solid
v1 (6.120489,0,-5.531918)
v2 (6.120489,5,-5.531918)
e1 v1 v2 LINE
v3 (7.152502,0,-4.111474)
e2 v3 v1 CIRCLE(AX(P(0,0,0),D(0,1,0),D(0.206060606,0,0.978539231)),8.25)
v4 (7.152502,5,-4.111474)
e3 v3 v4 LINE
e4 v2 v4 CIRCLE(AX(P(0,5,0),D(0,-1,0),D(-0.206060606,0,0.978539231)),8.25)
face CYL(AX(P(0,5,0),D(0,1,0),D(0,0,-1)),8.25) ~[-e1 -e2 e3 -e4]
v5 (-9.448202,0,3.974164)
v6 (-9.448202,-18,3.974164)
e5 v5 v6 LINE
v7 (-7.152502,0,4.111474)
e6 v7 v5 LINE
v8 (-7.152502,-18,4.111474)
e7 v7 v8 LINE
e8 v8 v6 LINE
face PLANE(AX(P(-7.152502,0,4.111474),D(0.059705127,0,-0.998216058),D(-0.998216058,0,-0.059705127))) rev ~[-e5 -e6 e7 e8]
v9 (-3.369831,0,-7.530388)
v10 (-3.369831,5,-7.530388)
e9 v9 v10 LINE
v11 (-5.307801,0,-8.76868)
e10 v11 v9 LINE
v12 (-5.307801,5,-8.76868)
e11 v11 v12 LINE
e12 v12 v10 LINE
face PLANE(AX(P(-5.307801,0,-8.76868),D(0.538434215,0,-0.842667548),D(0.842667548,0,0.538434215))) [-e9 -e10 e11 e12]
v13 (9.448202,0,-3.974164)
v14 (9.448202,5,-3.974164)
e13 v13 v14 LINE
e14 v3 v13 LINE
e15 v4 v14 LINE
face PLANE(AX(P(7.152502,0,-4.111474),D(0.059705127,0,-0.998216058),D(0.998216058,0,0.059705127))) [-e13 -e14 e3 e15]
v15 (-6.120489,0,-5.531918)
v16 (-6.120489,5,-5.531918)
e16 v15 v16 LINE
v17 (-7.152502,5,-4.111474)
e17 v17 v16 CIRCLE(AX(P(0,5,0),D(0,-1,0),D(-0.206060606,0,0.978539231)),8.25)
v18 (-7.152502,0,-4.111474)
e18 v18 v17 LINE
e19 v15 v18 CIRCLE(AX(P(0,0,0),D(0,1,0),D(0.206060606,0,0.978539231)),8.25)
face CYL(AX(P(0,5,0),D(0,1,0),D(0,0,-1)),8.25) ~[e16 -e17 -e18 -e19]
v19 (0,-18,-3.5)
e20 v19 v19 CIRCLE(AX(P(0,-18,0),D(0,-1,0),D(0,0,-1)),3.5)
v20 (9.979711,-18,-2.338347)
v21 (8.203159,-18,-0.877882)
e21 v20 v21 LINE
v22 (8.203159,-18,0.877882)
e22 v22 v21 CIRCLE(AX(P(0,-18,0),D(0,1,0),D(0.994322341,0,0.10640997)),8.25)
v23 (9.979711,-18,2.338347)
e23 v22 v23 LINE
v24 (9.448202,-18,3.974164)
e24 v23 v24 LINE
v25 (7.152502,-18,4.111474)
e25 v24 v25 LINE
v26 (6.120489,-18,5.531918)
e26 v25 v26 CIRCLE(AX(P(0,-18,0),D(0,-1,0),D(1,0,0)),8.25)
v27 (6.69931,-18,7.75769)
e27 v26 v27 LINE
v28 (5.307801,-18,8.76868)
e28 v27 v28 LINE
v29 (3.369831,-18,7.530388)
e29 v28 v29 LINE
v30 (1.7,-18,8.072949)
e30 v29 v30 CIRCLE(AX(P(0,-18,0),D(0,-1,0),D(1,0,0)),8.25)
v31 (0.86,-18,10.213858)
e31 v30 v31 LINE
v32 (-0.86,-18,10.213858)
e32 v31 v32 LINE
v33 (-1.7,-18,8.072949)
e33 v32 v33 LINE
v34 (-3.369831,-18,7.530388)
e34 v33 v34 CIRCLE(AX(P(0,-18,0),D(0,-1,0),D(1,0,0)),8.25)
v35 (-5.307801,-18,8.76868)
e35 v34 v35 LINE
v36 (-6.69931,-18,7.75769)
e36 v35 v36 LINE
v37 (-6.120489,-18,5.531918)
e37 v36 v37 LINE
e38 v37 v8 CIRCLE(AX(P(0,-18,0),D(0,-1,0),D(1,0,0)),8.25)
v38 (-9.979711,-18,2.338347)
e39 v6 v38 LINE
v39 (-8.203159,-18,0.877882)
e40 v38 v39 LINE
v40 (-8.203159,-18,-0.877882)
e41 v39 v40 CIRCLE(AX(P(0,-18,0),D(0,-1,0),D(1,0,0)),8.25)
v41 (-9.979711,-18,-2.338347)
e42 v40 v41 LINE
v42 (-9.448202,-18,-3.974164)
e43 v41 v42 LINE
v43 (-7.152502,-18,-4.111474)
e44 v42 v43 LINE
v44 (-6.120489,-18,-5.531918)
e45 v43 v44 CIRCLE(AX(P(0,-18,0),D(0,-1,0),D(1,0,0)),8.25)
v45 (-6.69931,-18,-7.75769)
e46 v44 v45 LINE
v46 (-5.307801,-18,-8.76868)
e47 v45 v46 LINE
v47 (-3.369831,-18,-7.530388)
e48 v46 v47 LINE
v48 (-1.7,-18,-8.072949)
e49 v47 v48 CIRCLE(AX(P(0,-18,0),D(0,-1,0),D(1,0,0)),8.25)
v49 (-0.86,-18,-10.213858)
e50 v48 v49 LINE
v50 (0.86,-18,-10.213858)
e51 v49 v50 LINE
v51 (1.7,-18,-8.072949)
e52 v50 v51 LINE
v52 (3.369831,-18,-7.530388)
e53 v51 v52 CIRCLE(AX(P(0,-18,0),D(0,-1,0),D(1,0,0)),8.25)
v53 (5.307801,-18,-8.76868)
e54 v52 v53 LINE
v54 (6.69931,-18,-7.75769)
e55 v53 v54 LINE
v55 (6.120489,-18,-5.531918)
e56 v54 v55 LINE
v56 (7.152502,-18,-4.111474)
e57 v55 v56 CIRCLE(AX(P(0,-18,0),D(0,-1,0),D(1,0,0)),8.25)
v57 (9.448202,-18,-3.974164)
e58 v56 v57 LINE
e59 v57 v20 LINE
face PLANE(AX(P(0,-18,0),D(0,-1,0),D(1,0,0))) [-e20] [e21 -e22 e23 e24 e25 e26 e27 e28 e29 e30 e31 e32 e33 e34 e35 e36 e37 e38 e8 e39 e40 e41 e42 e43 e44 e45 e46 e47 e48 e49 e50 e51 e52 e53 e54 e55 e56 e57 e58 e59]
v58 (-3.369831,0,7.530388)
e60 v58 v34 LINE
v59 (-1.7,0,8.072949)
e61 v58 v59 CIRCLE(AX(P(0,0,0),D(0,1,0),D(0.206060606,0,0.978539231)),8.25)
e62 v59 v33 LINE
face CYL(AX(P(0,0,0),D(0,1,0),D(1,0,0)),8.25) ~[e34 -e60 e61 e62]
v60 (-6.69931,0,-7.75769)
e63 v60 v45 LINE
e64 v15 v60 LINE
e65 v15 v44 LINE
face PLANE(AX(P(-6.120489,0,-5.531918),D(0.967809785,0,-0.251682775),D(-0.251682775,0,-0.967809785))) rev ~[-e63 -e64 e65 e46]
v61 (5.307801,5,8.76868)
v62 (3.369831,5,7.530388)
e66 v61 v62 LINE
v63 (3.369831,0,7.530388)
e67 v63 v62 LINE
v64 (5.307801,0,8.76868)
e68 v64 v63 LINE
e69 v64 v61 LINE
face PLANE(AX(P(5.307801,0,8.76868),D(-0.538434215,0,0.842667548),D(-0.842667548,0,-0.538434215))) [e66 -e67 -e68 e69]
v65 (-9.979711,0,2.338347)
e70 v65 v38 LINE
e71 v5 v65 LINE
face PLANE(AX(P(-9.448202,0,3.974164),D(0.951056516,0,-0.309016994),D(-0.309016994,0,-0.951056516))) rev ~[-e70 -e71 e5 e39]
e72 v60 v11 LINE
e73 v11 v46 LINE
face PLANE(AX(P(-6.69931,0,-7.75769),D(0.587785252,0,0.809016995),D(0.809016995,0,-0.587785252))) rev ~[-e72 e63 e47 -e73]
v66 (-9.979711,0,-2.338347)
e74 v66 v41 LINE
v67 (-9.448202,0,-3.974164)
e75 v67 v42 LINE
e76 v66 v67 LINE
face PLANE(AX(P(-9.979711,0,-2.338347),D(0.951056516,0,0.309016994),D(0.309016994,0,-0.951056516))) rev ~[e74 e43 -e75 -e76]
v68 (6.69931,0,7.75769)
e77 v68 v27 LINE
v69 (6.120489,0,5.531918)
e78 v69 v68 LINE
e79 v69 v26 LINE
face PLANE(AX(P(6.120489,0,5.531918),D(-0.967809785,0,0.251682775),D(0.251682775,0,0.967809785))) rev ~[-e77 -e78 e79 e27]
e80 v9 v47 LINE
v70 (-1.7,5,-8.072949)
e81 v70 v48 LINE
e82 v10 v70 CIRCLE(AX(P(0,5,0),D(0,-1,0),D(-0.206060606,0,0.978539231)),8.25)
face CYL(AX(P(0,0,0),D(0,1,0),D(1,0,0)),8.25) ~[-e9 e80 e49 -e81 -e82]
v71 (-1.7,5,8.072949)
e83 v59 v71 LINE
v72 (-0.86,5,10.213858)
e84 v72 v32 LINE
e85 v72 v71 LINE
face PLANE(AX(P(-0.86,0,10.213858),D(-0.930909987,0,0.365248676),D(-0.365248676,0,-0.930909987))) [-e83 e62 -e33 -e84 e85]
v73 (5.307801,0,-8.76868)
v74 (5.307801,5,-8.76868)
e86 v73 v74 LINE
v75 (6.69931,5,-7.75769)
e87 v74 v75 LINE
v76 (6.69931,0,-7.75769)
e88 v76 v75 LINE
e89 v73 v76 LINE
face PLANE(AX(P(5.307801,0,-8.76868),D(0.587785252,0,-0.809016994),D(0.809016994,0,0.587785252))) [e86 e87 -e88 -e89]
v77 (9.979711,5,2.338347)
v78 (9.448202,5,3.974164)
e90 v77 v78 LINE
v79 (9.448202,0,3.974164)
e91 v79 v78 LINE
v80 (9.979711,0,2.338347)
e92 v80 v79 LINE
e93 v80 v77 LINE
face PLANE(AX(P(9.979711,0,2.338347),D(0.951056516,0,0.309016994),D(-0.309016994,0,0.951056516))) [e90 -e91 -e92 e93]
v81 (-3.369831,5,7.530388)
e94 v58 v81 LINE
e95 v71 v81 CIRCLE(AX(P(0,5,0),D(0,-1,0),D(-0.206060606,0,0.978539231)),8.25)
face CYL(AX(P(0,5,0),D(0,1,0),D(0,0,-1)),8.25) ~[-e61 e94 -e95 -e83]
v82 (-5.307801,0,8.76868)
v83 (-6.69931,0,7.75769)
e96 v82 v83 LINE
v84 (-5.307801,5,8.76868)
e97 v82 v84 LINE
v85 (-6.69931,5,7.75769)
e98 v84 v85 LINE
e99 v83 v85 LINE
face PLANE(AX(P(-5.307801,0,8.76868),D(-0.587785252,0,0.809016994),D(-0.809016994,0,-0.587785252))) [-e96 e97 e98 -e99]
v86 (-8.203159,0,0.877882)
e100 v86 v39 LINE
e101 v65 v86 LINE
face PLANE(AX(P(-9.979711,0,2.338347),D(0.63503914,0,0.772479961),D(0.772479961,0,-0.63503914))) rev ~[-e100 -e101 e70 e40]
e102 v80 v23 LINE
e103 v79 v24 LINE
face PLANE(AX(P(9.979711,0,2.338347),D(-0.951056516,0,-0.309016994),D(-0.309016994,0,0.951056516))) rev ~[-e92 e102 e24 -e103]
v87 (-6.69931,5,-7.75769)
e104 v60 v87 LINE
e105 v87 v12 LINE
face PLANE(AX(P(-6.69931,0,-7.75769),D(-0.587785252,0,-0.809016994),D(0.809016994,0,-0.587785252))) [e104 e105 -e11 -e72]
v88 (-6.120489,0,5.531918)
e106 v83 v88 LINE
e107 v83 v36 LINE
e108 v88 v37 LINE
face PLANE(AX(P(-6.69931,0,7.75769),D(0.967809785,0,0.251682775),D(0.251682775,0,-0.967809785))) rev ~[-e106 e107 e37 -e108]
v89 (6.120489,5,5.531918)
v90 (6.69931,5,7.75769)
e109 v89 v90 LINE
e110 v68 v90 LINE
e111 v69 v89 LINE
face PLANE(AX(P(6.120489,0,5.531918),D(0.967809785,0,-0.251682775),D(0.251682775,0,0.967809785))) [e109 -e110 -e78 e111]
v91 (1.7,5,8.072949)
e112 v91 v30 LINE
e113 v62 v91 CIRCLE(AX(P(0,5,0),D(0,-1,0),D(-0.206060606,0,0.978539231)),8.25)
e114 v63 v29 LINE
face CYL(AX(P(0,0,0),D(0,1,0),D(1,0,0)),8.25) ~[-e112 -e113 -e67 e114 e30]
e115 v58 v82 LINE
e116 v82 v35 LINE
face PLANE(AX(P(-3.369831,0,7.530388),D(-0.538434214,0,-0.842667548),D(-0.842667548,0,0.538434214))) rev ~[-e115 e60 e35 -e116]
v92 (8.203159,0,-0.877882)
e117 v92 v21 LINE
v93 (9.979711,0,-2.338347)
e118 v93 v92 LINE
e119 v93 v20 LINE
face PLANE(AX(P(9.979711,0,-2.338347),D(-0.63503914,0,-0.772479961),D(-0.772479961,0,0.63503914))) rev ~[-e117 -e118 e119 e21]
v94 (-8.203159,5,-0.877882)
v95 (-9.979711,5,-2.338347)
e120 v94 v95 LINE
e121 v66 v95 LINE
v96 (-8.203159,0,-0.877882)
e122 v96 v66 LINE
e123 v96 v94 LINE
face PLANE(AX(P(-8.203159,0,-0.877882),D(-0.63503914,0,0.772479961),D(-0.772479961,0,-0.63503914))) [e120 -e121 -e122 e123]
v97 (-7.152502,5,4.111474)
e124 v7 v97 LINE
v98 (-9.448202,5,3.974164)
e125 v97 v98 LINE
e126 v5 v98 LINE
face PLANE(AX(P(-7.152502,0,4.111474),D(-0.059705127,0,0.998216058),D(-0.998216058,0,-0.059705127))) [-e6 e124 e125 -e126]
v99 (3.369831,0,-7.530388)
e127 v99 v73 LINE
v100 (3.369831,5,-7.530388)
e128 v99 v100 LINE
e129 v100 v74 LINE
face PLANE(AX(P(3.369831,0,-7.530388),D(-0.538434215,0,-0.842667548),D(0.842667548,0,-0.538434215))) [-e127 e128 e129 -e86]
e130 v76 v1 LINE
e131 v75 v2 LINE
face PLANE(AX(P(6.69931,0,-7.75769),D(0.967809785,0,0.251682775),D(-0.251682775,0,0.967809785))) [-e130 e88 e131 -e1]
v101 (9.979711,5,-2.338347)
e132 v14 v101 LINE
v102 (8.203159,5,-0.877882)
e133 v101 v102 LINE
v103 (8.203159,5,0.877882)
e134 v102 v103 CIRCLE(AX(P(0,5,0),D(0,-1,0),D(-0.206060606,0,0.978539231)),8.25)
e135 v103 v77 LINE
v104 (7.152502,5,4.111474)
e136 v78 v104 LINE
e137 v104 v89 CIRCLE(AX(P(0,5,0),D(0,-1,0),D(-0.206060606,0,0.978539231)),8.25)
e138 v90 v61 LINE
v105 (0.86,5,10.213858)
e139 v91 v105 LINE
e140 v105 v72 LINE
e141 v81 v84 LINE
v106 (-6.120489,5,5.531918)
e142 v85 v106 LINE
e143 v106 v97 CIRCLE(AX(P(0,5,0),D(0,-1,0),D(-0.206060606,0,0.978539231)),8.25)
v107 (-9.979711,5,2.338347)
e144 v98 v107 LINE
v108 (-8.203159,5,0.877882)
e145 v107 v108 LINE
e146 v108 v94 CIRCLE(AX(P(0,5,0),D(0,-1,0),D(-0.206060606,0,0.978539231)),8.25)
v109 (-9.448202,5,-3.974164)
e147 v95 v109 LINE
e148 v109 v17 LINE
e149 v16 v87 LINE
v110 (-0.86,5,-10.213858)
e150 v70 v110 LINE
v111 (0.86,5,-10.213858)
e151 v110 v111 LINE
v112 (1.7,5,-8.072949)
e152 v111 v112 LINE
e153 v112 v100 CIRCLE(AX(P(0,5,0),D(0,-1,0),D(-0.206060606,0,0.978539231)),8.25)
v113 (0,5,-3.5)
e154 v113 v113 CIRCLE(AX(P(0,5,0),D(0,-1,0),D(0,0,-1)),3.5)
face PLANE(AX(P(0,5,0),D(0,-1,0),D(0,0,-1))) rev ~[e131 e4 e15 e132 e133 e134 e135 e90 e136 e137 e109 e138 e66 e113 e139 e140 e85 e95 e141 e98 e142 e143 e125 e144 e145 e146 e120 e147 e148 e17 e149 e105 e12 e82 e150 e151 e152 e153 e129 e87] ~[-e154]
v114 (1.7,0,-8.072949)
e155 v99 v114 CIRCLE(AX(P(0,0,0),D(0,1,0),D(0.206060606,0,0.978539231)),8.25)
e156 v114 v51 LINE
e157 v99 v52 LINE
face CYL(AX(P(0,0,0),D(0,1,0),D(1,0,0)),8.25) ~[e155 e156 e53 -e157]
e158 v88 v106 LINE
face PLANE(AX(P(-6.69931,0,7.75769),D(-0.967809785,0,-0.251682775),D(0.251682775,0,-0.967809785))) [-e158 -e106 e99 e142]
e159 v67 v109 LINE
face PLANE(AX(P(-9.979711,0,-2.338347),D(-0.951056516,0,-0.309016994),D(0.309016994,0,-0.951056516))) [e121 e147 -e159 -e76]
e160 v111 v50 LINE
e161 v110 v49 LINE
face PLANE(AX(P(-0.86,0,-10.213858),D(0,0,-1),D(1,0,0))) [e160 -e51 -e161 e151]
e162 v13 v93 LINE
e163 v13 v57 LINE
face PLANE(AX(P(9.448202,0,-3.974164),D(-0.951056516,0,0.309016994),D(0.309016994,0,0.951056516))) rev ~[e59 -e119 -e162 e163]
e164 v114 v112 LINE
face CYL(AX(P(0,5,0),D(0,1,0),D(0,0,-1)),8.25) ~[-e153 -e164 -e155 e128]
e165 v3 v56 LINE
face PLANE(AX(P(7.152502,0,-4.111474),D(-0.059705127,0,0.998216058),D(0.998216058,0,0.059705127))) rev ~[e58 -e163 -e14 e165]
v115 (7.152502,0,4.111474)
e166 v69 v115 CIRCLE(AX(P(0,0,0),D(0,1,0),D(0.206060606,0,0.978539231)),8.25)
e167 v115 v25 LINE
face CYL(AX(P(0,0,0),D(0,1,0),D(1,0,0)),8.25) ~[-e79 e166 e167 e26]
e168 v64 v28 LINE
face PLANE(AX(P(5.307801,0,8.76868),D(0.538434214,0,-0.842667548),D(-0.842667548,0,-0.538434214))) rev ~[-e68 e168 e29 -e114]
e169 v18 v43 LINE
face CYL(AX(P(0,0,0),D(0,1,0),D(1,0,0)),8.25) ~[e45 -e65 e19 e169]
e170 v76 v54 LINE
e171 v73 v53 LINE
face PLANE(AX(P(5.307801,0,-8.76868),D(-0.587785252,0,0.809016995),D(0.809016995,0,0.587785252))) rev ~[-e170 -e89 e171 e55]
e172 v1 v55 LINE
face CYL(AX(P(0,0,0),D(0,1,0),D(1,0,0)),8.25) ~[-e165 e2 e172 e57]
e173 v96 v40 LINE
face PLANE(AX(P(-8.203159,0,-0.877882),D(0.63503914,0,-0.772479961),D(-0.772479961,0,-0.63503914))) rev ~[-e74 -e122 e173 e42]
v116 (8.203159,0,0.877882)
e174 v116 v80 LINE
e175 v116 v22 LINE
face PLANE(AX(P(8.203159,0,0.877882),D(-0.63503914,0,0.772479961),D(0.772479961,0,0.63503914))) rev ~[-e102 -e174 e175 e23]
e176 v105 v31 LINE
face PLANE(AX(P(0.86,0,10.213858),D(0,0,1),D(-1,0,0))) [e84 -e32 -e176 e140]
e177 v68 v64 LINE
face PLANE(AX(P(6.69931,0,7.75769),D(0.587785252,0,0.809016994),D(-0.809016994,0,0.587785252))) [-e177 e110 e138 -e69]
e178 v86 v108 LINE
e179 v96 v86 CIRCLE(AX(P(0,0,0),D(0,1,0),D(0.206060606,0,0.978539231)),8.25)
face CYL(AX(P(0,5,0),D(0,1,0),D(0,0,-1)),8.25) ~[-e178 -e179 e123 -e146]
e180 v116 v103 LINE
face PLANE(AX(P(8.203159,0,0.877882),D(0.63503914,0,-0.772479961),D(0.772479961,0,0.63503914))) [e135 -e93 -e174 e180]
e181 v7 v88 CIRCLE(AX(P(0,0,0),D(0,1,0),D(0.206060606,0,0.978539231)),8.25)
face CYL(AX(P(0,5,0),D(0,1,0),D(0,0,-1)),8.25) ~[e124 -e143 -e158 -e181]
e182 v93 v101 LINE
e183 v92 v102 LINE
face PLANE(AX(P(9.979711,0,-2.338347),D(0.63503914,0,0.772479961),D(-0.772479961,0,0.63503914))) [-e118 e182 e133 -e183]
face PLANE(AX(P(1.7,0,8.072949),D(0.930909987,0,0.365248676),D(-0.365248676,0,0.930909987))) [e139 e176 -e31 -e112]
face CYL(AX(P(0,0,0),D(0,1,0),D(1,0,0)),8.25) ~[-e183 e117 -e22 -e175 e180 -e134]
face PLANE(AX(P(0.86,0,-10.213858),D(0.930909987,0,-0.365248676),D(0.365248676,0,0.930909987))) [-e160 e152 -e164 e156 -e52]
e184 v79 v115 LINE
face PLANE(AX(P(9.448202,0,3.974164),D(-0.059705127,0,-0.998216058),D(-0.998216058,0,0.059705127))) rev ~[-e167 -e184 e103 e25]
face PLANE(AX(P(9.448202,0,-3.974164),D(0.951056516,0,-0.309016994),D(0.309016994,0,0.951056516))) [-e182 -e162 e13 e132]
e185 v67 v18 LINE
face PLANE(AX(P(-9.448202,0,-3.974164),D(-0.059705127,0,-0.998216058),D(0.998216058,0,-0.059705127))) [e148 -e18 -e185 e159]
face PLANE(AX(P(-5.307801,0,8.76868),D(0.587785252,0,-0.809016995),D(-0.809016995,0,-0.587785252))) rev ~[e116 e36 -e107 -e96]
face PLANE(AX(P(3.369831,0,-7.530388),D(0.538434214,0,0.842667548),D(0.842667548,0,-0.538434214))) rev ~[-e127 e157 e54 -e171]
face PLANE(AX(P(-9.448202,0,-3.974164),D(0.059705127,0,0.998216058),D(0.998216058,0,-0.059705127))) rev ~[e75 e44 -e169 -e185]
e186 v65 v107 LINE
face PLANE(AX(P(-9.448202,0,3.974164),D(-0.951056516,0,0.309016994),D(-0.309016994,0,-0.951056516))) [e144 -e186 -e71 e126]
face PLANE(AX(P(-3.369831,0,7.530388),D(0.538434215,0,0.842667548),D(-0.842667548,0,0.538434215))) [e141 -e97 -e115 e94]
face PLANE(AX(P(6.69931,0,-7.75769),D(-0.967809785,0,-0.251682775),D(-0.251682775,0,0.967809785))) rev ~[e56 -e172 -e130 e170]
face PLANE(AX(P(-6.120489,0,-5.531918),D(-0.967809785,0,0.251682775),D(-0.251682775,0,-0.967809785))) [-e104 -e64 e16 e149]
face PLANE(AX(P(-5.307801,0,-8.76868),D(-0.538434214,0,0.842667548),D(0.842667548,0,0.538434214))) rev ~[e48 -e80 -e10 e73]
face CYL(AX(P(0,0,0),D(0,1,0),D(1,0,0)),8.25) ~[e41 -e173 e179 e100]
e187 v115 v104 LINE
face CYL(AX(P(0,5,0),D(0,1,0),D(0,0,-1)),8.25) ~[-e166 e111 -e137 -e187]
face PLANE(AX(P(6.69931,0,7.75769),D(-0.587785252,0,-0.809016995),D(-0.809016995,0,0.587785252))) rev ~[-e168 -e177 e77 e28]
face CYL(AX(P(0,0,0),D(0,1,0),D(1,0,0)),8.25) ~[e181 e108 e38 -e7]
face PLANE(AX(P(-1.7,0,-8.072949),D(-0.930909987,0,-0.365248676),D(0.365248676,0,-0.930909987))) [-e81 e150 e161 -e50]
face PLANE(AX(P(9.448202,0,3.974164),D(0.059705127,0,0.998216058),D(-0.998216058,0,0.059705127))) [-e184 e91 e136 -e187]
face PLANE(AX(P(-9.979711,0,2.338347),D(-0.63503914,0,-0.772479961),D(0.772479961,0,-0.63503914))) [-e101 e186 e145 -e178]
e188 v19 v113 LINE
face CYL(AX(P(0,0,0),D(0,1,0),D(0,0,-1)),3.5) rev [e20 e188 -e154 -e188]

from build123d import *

# Parameters (mm, degrees)
SKETCH1_R            = 3.5
BOSS_EXTRUDE1_DEPTH  = 5
SKETCH12_R           = 8.25
SKETCH12_R_2         = 3.5
BOSS_EXTRUDE6_DEPTH  = 5
BOSS_EXTRUDE9_DEPTH  = 5
CIRPATTERN2_COUNT    = 10
CUT_EXTRUDE1_START   = -10
SKETCH14_R           = 3.5
CUT_EXTRUDE1_DEPTH   = 10
SKETCH17_R           = 8.25
SKETCH17_R_2         = 3.5
BOSS_EXTRUDE10_DEPTH = 18


with BuildPart() as part:
    # Sketch1 → Boss-Extrude1 (new body)
    with BuildSketch(Plane(origin=(0, 0, 0), x_dir=(1, 0, 0), z_dir=(0, 1, 0))):
        with Locations(Location((0, 0, 0), (0, 0, 270))):
            Circle(SKETCH1_R)
    extrude(amount=BOSS_EXTRUDE1_DEPTH)

    # Sketch14 → Cut-Extrude1 (cut)
    with BuildSketch(Plane(origin=(0, 5, 0), x_dir=(1, 0, 0), z_dir=(0, 1, 0)).offset(CUT_EXTRUDE1_START)):
        with Locations(Location((0, 0, 0), (0, 0, 90))):
            Circle(SKETCH14_R)
    extrude(amount=CUT_EXTRUDE1_DEPTH, mode=Mode.SUBTRACT)


with BuildPart() as body_2:
    # Sketch12 → Boss-Extrude6 (new body)
    with BuildSketch(Plane(origin=(0, 5, 0), x_dir=(-1, 0, 0), z_dir=(0, -1, 0))):
        with Locations(Location((0, 0, 0), (0, 0, 90))):
            Circle(SKETCH12_R)
        with Locations(Location((0, 0, 0), (0, 0, 90))):
            Circle(SKETCH12_R_2, mode=Mode.SUBTRACT)
    extrude(amount=BOSS_EXTRUDE6_DEPTH)



with BuildPart() as body_3:
    # Sketch13 → Boss-Extrude9 (new body)
    with BuildSketch(Plane.XZ):
        with BuildLine():
            Line((1.7, 8.072948656), (0.86, 10.213858233))
            Line((0.86, 10.213858233), (-0.86, 10.213858233))
            Line((-0.86, 10.213858233), (-1.7, 8.072948656))
            ThreePointArc((-1.7, 8.072948656), (0, 8.25), (1.7, 8.072948656))
        make_face()
    extrude(amount=-BOSS_EXTRUDE9_DEPTH)


with BuildPart() as cirpattern2_1:
    # CirPattern2: pattern copy
    add(body_3.part.rotate(Axis((0, 0, 0), (0, 1, 0)), 1 * 360 / CIRPATTERN2_COUNT))


with BuildPart() as cirpattern2_2:
    # CirPattern2: pattern copy
    add(body_3.part.rotate(Axis((0, 0, 0), (0, 1, 0)), 2 * 360 / CIRPATTERN2_COUNT))


with BuildPart() as cirpattern2_3:
    # CirPattern2: pattern copy
    add(body_3.part.rotate(Axis((0, 0, 0), (0, 1, 0)), 3 * 360 / CIRPATTERN2_COUNT))


with BuildPart() as cirpattern2_4:
    # CirPattern2: pattern copy
    add(body_3.part.rotate(Axis((0, 0, 0), (0, 1, 0)), 4 * 360 / CIRPATTERN2_COUNT))


with BuildPart() as cirpattern2_5:
    # CirPattern2: pattern copy
    add(body_3.part.rotate(Axis((0, 0, 0), (0, 1, 0)), 5 * 360 / CIRPATTERN2_COUNT))


with BuildPart() as cirpattern2_6:
    # CirPattern2: pattern copy
    add(body_3.part.rotate(Axis((0, 0, 0), (0, 1, 0)), 6 * 360 / CIRPATTERN2_COUNT))


with BuildPart() as cirpattern2_7:
    # CirPattern2: pattern copy
    add(body_3.part.rotate(Axis((0, 0, 0), (0, 1, 0)), 7 * 360 / CIRPATTERN2_COUNT))


with BuildPart() as cirpattern2_8:
    # CirPattern2: pattern copy
    add(body_3.part.rotate(Axis((0, 0, 0), (0, 1, 0)), 8 * 360 / CIRPATTERN2_COUNT))


with BuildPart() as cirpattern2_9:
    # CirPattern2: pattern copy
    add(body_3.part.rotate(Axis((0, 0, 0), (0, 1, 0)), 9 * 360 / CIRPATTERN2_COUNT))


with BuildPart() as body_2_1:
    add(body_2.part)

    add(body_3.part)  # Boss-Extrude10 merges body 3

    add(cirpattern2_1.part)  # Boss-Extrude10 merges CirPattern2_1

    add(cirpattern2_2.part)  # Boss-Extrude10 merges CirPattern2_2

    add(cirpattern2_3.part)  # Boss-Extrude10 merges CirPattern2_3

    add(cirpattern2_4.part)  # Boss-Extrude10 merges CirPattern2_4

    add(cirpattern2_5.part)  # Boss-Extrude10 merges CirPattern2_5

    add(cirpattern2_6.part)  # Boss-Extrude10 merges CirPattern2_6

    add(cirpattern2_7.part)  # Boss-Extrude10 merges CirPattern2_7

    add(cirpattern2_8.part)  # Boss-Extrude10 merges CirPattern2_8

    add(cirpattern2_9.part)  # Boss-Extrude10 merges CirPattern2_9
    # Sketch17 → Boss-Extrude10 (add)
    # profile 1 of 11: a face of its own
    with BuildSketch(Plane.XZ):
        Circle(SKETCH17_R)
        with Locations(Location((0, 0, 0), (0, 0, 270))):
            Circle(SKETCH17_R_2, mode=Mode.SUBTRACT)
    # profile 2 of 11: a face of its own
    with BuildSketch(Plane.XZ):
        with BuildLine():
            ThreePointArc((-1.7, 8.072948656), (0, 8.25), (1.7, 8.072948656))
            Line((1.7, 8.072948656), (0.86, 10.213858233))
            Line((0.86, 10.213858233), (-0.86, 10.213858233))
            Line((-0.86, 10.213858233), (-1.7, 8.072948656))
        make_face()
    # profile 3 of 11: a face of its own
    with BuildSketch(Plane.XZ):
        with BuildLine():
            ThreePointArc((-6.120489053, 5.531917728), (-4.849228331, 6.674390204), (-3.369831272, 7.530387586))
            Line((-3.369831272, 7.530387586), (-5.307800623, 8.768680205))
            Line((-5.307800623, 8.768680205), (-6.699309853, 7.757689572))
            Line((-6.699309853, 7.757689572), (-6.120489053, 5.531917728))
        make_face()
    # profile 4 of 11: a face of its own
    with BuildSketch(Plane.XZ):
        with BuildLine():
            Line((-9.979711044, 2.338347168), (-8.203159315, 0.877882252))
            ThreePointArc((-8.203159315, 0.877882252), (-7.846216259, 2.549390204), (-7.152501534, 4.111474407))
            Line((-7.152501534, 4.111474407), (-9.448201814, 3.974164376))
            Line((-9.448201814, 3.974164376), (-9.979711044, 2.338347168))
        make_face()
    # profile 5 of 11: a face of its own
    with BuildSketch(Plane.XZ):
        with BuildLine():
            Line((-9.448201814, -3.974164376), (-7.152501534, -4.111474407))
            ThreePointArc((-7.152501534, -4.111474407), (-7.846216259, -2.549390204), (-8.203159315, -0.877882252))
            Line((-8.203159315, -0.877882252), (-9.979711044, -2.338347168))
            Line((-9.979711044, -2.338347168), (-9.448201814, -3.974164376))
        make_face()
    # profile 6 of 11: a face of its own
    with BuildSketch(Plane.XZ):
        with BuildLine():
            Line((-5.307800623, -8.768680205), (-3.369831272, -7.530387586))
            ThreePointArc((-3.369831272, -7.530387586), (-4.849228331, -6.674390204), (-6.120489053, -5.531917728))
            Line((-6.120489053, -5.531917728), (-6.699309853, -7.757689572))
            Line((-6.699309853, -7.757689572), (-5.307800623, -8.768680205))
        make_face()
    # profile 7 of 11: a face of its own
    with BuildSketch(Plane.XZ):
        with BuildLine():
            Line((0.86, -10.213858233), (1.7, -8.072948656))
            ThreePointArc((1.7, -8.072948656), (0, -8.25), (-1.7, -8.072948656))
            Line((-1.7, -8.072948656), (-0.86, -10.213858233))
            Line((-0.86, -10.213858233), (0.86, -10.213858233))
        make_face()
    # profile 8 of 11: a face of its own
    with BuildSketch(Plane.XZ):
        with BuildLine():
            Line((6.699309853, -7.757689572), (6.120489053, -5.531917728))
            ThreePointArc((6.120489053, -5.531917728), (4.849228331, -6.674390204), (3.369831272, -7.530387586))
            Line((3.369831272, -7.530387586), (5.307800623, -8.768680205))
            Line((5.307800623, -8.768680205), (6.699309853, -7.757689572))
        make_face()
    # profile 9 of 11: a face of its own
    with BuildSketch(Plane.XZ):
        with BuildLine():
            Line((7.152501534, -4.111474407), (9.448201814, -3.974164376))
            Line((9.448201814, -3.974164376), (9.979711044, -2.338347168))
            Line((9.979711044, -2.338347168), (8.203159315, -0.877882252))
            ThreePointArc((8.203159315, -0.877882252), (7.846216259, -2.549390204), (7.152501534, -4.111474407))
        make_face()
    # profile 10 of 11: a face of its own
    with BuildSketch(Plane.XZ):
        with BuildLine():
            ThreePointArc((7.152501534, 4.111474407), (7.846216259, 2.549390204), (8.203159315, 0.877882252))
            Line((8.203159315, 0.877882252), (9.979711044, 2.338347168))
            Line((9.979711044, 2.338347168), (9.448201814, 3.974164376))
            Line((9.448201814, 3.974164376), (7.152501534, 4.111474407))
        make_face()
    # profile 11 of 11: a face of its own
    with BuildSketch(Plane.XZ):
        with BuildLine():
            ThreePointArc((3.369831272, 7.530387586), (4.849228331, 6.674390204), (6.120489053, 5.531917728))
            Line((6.120489053, 5.531917728), (6.699309853, 7.757689572))
            Line((6.699309853, 7.757689572), (5.307800623, 8.768680205))
            Line((5.307800623, 8.768680205), (3.369831272, 7.530387586))
        make_face()
    extrude(amount=BOSS_EXTRUDE10_DEPTH)


solid = body_2_1.part
